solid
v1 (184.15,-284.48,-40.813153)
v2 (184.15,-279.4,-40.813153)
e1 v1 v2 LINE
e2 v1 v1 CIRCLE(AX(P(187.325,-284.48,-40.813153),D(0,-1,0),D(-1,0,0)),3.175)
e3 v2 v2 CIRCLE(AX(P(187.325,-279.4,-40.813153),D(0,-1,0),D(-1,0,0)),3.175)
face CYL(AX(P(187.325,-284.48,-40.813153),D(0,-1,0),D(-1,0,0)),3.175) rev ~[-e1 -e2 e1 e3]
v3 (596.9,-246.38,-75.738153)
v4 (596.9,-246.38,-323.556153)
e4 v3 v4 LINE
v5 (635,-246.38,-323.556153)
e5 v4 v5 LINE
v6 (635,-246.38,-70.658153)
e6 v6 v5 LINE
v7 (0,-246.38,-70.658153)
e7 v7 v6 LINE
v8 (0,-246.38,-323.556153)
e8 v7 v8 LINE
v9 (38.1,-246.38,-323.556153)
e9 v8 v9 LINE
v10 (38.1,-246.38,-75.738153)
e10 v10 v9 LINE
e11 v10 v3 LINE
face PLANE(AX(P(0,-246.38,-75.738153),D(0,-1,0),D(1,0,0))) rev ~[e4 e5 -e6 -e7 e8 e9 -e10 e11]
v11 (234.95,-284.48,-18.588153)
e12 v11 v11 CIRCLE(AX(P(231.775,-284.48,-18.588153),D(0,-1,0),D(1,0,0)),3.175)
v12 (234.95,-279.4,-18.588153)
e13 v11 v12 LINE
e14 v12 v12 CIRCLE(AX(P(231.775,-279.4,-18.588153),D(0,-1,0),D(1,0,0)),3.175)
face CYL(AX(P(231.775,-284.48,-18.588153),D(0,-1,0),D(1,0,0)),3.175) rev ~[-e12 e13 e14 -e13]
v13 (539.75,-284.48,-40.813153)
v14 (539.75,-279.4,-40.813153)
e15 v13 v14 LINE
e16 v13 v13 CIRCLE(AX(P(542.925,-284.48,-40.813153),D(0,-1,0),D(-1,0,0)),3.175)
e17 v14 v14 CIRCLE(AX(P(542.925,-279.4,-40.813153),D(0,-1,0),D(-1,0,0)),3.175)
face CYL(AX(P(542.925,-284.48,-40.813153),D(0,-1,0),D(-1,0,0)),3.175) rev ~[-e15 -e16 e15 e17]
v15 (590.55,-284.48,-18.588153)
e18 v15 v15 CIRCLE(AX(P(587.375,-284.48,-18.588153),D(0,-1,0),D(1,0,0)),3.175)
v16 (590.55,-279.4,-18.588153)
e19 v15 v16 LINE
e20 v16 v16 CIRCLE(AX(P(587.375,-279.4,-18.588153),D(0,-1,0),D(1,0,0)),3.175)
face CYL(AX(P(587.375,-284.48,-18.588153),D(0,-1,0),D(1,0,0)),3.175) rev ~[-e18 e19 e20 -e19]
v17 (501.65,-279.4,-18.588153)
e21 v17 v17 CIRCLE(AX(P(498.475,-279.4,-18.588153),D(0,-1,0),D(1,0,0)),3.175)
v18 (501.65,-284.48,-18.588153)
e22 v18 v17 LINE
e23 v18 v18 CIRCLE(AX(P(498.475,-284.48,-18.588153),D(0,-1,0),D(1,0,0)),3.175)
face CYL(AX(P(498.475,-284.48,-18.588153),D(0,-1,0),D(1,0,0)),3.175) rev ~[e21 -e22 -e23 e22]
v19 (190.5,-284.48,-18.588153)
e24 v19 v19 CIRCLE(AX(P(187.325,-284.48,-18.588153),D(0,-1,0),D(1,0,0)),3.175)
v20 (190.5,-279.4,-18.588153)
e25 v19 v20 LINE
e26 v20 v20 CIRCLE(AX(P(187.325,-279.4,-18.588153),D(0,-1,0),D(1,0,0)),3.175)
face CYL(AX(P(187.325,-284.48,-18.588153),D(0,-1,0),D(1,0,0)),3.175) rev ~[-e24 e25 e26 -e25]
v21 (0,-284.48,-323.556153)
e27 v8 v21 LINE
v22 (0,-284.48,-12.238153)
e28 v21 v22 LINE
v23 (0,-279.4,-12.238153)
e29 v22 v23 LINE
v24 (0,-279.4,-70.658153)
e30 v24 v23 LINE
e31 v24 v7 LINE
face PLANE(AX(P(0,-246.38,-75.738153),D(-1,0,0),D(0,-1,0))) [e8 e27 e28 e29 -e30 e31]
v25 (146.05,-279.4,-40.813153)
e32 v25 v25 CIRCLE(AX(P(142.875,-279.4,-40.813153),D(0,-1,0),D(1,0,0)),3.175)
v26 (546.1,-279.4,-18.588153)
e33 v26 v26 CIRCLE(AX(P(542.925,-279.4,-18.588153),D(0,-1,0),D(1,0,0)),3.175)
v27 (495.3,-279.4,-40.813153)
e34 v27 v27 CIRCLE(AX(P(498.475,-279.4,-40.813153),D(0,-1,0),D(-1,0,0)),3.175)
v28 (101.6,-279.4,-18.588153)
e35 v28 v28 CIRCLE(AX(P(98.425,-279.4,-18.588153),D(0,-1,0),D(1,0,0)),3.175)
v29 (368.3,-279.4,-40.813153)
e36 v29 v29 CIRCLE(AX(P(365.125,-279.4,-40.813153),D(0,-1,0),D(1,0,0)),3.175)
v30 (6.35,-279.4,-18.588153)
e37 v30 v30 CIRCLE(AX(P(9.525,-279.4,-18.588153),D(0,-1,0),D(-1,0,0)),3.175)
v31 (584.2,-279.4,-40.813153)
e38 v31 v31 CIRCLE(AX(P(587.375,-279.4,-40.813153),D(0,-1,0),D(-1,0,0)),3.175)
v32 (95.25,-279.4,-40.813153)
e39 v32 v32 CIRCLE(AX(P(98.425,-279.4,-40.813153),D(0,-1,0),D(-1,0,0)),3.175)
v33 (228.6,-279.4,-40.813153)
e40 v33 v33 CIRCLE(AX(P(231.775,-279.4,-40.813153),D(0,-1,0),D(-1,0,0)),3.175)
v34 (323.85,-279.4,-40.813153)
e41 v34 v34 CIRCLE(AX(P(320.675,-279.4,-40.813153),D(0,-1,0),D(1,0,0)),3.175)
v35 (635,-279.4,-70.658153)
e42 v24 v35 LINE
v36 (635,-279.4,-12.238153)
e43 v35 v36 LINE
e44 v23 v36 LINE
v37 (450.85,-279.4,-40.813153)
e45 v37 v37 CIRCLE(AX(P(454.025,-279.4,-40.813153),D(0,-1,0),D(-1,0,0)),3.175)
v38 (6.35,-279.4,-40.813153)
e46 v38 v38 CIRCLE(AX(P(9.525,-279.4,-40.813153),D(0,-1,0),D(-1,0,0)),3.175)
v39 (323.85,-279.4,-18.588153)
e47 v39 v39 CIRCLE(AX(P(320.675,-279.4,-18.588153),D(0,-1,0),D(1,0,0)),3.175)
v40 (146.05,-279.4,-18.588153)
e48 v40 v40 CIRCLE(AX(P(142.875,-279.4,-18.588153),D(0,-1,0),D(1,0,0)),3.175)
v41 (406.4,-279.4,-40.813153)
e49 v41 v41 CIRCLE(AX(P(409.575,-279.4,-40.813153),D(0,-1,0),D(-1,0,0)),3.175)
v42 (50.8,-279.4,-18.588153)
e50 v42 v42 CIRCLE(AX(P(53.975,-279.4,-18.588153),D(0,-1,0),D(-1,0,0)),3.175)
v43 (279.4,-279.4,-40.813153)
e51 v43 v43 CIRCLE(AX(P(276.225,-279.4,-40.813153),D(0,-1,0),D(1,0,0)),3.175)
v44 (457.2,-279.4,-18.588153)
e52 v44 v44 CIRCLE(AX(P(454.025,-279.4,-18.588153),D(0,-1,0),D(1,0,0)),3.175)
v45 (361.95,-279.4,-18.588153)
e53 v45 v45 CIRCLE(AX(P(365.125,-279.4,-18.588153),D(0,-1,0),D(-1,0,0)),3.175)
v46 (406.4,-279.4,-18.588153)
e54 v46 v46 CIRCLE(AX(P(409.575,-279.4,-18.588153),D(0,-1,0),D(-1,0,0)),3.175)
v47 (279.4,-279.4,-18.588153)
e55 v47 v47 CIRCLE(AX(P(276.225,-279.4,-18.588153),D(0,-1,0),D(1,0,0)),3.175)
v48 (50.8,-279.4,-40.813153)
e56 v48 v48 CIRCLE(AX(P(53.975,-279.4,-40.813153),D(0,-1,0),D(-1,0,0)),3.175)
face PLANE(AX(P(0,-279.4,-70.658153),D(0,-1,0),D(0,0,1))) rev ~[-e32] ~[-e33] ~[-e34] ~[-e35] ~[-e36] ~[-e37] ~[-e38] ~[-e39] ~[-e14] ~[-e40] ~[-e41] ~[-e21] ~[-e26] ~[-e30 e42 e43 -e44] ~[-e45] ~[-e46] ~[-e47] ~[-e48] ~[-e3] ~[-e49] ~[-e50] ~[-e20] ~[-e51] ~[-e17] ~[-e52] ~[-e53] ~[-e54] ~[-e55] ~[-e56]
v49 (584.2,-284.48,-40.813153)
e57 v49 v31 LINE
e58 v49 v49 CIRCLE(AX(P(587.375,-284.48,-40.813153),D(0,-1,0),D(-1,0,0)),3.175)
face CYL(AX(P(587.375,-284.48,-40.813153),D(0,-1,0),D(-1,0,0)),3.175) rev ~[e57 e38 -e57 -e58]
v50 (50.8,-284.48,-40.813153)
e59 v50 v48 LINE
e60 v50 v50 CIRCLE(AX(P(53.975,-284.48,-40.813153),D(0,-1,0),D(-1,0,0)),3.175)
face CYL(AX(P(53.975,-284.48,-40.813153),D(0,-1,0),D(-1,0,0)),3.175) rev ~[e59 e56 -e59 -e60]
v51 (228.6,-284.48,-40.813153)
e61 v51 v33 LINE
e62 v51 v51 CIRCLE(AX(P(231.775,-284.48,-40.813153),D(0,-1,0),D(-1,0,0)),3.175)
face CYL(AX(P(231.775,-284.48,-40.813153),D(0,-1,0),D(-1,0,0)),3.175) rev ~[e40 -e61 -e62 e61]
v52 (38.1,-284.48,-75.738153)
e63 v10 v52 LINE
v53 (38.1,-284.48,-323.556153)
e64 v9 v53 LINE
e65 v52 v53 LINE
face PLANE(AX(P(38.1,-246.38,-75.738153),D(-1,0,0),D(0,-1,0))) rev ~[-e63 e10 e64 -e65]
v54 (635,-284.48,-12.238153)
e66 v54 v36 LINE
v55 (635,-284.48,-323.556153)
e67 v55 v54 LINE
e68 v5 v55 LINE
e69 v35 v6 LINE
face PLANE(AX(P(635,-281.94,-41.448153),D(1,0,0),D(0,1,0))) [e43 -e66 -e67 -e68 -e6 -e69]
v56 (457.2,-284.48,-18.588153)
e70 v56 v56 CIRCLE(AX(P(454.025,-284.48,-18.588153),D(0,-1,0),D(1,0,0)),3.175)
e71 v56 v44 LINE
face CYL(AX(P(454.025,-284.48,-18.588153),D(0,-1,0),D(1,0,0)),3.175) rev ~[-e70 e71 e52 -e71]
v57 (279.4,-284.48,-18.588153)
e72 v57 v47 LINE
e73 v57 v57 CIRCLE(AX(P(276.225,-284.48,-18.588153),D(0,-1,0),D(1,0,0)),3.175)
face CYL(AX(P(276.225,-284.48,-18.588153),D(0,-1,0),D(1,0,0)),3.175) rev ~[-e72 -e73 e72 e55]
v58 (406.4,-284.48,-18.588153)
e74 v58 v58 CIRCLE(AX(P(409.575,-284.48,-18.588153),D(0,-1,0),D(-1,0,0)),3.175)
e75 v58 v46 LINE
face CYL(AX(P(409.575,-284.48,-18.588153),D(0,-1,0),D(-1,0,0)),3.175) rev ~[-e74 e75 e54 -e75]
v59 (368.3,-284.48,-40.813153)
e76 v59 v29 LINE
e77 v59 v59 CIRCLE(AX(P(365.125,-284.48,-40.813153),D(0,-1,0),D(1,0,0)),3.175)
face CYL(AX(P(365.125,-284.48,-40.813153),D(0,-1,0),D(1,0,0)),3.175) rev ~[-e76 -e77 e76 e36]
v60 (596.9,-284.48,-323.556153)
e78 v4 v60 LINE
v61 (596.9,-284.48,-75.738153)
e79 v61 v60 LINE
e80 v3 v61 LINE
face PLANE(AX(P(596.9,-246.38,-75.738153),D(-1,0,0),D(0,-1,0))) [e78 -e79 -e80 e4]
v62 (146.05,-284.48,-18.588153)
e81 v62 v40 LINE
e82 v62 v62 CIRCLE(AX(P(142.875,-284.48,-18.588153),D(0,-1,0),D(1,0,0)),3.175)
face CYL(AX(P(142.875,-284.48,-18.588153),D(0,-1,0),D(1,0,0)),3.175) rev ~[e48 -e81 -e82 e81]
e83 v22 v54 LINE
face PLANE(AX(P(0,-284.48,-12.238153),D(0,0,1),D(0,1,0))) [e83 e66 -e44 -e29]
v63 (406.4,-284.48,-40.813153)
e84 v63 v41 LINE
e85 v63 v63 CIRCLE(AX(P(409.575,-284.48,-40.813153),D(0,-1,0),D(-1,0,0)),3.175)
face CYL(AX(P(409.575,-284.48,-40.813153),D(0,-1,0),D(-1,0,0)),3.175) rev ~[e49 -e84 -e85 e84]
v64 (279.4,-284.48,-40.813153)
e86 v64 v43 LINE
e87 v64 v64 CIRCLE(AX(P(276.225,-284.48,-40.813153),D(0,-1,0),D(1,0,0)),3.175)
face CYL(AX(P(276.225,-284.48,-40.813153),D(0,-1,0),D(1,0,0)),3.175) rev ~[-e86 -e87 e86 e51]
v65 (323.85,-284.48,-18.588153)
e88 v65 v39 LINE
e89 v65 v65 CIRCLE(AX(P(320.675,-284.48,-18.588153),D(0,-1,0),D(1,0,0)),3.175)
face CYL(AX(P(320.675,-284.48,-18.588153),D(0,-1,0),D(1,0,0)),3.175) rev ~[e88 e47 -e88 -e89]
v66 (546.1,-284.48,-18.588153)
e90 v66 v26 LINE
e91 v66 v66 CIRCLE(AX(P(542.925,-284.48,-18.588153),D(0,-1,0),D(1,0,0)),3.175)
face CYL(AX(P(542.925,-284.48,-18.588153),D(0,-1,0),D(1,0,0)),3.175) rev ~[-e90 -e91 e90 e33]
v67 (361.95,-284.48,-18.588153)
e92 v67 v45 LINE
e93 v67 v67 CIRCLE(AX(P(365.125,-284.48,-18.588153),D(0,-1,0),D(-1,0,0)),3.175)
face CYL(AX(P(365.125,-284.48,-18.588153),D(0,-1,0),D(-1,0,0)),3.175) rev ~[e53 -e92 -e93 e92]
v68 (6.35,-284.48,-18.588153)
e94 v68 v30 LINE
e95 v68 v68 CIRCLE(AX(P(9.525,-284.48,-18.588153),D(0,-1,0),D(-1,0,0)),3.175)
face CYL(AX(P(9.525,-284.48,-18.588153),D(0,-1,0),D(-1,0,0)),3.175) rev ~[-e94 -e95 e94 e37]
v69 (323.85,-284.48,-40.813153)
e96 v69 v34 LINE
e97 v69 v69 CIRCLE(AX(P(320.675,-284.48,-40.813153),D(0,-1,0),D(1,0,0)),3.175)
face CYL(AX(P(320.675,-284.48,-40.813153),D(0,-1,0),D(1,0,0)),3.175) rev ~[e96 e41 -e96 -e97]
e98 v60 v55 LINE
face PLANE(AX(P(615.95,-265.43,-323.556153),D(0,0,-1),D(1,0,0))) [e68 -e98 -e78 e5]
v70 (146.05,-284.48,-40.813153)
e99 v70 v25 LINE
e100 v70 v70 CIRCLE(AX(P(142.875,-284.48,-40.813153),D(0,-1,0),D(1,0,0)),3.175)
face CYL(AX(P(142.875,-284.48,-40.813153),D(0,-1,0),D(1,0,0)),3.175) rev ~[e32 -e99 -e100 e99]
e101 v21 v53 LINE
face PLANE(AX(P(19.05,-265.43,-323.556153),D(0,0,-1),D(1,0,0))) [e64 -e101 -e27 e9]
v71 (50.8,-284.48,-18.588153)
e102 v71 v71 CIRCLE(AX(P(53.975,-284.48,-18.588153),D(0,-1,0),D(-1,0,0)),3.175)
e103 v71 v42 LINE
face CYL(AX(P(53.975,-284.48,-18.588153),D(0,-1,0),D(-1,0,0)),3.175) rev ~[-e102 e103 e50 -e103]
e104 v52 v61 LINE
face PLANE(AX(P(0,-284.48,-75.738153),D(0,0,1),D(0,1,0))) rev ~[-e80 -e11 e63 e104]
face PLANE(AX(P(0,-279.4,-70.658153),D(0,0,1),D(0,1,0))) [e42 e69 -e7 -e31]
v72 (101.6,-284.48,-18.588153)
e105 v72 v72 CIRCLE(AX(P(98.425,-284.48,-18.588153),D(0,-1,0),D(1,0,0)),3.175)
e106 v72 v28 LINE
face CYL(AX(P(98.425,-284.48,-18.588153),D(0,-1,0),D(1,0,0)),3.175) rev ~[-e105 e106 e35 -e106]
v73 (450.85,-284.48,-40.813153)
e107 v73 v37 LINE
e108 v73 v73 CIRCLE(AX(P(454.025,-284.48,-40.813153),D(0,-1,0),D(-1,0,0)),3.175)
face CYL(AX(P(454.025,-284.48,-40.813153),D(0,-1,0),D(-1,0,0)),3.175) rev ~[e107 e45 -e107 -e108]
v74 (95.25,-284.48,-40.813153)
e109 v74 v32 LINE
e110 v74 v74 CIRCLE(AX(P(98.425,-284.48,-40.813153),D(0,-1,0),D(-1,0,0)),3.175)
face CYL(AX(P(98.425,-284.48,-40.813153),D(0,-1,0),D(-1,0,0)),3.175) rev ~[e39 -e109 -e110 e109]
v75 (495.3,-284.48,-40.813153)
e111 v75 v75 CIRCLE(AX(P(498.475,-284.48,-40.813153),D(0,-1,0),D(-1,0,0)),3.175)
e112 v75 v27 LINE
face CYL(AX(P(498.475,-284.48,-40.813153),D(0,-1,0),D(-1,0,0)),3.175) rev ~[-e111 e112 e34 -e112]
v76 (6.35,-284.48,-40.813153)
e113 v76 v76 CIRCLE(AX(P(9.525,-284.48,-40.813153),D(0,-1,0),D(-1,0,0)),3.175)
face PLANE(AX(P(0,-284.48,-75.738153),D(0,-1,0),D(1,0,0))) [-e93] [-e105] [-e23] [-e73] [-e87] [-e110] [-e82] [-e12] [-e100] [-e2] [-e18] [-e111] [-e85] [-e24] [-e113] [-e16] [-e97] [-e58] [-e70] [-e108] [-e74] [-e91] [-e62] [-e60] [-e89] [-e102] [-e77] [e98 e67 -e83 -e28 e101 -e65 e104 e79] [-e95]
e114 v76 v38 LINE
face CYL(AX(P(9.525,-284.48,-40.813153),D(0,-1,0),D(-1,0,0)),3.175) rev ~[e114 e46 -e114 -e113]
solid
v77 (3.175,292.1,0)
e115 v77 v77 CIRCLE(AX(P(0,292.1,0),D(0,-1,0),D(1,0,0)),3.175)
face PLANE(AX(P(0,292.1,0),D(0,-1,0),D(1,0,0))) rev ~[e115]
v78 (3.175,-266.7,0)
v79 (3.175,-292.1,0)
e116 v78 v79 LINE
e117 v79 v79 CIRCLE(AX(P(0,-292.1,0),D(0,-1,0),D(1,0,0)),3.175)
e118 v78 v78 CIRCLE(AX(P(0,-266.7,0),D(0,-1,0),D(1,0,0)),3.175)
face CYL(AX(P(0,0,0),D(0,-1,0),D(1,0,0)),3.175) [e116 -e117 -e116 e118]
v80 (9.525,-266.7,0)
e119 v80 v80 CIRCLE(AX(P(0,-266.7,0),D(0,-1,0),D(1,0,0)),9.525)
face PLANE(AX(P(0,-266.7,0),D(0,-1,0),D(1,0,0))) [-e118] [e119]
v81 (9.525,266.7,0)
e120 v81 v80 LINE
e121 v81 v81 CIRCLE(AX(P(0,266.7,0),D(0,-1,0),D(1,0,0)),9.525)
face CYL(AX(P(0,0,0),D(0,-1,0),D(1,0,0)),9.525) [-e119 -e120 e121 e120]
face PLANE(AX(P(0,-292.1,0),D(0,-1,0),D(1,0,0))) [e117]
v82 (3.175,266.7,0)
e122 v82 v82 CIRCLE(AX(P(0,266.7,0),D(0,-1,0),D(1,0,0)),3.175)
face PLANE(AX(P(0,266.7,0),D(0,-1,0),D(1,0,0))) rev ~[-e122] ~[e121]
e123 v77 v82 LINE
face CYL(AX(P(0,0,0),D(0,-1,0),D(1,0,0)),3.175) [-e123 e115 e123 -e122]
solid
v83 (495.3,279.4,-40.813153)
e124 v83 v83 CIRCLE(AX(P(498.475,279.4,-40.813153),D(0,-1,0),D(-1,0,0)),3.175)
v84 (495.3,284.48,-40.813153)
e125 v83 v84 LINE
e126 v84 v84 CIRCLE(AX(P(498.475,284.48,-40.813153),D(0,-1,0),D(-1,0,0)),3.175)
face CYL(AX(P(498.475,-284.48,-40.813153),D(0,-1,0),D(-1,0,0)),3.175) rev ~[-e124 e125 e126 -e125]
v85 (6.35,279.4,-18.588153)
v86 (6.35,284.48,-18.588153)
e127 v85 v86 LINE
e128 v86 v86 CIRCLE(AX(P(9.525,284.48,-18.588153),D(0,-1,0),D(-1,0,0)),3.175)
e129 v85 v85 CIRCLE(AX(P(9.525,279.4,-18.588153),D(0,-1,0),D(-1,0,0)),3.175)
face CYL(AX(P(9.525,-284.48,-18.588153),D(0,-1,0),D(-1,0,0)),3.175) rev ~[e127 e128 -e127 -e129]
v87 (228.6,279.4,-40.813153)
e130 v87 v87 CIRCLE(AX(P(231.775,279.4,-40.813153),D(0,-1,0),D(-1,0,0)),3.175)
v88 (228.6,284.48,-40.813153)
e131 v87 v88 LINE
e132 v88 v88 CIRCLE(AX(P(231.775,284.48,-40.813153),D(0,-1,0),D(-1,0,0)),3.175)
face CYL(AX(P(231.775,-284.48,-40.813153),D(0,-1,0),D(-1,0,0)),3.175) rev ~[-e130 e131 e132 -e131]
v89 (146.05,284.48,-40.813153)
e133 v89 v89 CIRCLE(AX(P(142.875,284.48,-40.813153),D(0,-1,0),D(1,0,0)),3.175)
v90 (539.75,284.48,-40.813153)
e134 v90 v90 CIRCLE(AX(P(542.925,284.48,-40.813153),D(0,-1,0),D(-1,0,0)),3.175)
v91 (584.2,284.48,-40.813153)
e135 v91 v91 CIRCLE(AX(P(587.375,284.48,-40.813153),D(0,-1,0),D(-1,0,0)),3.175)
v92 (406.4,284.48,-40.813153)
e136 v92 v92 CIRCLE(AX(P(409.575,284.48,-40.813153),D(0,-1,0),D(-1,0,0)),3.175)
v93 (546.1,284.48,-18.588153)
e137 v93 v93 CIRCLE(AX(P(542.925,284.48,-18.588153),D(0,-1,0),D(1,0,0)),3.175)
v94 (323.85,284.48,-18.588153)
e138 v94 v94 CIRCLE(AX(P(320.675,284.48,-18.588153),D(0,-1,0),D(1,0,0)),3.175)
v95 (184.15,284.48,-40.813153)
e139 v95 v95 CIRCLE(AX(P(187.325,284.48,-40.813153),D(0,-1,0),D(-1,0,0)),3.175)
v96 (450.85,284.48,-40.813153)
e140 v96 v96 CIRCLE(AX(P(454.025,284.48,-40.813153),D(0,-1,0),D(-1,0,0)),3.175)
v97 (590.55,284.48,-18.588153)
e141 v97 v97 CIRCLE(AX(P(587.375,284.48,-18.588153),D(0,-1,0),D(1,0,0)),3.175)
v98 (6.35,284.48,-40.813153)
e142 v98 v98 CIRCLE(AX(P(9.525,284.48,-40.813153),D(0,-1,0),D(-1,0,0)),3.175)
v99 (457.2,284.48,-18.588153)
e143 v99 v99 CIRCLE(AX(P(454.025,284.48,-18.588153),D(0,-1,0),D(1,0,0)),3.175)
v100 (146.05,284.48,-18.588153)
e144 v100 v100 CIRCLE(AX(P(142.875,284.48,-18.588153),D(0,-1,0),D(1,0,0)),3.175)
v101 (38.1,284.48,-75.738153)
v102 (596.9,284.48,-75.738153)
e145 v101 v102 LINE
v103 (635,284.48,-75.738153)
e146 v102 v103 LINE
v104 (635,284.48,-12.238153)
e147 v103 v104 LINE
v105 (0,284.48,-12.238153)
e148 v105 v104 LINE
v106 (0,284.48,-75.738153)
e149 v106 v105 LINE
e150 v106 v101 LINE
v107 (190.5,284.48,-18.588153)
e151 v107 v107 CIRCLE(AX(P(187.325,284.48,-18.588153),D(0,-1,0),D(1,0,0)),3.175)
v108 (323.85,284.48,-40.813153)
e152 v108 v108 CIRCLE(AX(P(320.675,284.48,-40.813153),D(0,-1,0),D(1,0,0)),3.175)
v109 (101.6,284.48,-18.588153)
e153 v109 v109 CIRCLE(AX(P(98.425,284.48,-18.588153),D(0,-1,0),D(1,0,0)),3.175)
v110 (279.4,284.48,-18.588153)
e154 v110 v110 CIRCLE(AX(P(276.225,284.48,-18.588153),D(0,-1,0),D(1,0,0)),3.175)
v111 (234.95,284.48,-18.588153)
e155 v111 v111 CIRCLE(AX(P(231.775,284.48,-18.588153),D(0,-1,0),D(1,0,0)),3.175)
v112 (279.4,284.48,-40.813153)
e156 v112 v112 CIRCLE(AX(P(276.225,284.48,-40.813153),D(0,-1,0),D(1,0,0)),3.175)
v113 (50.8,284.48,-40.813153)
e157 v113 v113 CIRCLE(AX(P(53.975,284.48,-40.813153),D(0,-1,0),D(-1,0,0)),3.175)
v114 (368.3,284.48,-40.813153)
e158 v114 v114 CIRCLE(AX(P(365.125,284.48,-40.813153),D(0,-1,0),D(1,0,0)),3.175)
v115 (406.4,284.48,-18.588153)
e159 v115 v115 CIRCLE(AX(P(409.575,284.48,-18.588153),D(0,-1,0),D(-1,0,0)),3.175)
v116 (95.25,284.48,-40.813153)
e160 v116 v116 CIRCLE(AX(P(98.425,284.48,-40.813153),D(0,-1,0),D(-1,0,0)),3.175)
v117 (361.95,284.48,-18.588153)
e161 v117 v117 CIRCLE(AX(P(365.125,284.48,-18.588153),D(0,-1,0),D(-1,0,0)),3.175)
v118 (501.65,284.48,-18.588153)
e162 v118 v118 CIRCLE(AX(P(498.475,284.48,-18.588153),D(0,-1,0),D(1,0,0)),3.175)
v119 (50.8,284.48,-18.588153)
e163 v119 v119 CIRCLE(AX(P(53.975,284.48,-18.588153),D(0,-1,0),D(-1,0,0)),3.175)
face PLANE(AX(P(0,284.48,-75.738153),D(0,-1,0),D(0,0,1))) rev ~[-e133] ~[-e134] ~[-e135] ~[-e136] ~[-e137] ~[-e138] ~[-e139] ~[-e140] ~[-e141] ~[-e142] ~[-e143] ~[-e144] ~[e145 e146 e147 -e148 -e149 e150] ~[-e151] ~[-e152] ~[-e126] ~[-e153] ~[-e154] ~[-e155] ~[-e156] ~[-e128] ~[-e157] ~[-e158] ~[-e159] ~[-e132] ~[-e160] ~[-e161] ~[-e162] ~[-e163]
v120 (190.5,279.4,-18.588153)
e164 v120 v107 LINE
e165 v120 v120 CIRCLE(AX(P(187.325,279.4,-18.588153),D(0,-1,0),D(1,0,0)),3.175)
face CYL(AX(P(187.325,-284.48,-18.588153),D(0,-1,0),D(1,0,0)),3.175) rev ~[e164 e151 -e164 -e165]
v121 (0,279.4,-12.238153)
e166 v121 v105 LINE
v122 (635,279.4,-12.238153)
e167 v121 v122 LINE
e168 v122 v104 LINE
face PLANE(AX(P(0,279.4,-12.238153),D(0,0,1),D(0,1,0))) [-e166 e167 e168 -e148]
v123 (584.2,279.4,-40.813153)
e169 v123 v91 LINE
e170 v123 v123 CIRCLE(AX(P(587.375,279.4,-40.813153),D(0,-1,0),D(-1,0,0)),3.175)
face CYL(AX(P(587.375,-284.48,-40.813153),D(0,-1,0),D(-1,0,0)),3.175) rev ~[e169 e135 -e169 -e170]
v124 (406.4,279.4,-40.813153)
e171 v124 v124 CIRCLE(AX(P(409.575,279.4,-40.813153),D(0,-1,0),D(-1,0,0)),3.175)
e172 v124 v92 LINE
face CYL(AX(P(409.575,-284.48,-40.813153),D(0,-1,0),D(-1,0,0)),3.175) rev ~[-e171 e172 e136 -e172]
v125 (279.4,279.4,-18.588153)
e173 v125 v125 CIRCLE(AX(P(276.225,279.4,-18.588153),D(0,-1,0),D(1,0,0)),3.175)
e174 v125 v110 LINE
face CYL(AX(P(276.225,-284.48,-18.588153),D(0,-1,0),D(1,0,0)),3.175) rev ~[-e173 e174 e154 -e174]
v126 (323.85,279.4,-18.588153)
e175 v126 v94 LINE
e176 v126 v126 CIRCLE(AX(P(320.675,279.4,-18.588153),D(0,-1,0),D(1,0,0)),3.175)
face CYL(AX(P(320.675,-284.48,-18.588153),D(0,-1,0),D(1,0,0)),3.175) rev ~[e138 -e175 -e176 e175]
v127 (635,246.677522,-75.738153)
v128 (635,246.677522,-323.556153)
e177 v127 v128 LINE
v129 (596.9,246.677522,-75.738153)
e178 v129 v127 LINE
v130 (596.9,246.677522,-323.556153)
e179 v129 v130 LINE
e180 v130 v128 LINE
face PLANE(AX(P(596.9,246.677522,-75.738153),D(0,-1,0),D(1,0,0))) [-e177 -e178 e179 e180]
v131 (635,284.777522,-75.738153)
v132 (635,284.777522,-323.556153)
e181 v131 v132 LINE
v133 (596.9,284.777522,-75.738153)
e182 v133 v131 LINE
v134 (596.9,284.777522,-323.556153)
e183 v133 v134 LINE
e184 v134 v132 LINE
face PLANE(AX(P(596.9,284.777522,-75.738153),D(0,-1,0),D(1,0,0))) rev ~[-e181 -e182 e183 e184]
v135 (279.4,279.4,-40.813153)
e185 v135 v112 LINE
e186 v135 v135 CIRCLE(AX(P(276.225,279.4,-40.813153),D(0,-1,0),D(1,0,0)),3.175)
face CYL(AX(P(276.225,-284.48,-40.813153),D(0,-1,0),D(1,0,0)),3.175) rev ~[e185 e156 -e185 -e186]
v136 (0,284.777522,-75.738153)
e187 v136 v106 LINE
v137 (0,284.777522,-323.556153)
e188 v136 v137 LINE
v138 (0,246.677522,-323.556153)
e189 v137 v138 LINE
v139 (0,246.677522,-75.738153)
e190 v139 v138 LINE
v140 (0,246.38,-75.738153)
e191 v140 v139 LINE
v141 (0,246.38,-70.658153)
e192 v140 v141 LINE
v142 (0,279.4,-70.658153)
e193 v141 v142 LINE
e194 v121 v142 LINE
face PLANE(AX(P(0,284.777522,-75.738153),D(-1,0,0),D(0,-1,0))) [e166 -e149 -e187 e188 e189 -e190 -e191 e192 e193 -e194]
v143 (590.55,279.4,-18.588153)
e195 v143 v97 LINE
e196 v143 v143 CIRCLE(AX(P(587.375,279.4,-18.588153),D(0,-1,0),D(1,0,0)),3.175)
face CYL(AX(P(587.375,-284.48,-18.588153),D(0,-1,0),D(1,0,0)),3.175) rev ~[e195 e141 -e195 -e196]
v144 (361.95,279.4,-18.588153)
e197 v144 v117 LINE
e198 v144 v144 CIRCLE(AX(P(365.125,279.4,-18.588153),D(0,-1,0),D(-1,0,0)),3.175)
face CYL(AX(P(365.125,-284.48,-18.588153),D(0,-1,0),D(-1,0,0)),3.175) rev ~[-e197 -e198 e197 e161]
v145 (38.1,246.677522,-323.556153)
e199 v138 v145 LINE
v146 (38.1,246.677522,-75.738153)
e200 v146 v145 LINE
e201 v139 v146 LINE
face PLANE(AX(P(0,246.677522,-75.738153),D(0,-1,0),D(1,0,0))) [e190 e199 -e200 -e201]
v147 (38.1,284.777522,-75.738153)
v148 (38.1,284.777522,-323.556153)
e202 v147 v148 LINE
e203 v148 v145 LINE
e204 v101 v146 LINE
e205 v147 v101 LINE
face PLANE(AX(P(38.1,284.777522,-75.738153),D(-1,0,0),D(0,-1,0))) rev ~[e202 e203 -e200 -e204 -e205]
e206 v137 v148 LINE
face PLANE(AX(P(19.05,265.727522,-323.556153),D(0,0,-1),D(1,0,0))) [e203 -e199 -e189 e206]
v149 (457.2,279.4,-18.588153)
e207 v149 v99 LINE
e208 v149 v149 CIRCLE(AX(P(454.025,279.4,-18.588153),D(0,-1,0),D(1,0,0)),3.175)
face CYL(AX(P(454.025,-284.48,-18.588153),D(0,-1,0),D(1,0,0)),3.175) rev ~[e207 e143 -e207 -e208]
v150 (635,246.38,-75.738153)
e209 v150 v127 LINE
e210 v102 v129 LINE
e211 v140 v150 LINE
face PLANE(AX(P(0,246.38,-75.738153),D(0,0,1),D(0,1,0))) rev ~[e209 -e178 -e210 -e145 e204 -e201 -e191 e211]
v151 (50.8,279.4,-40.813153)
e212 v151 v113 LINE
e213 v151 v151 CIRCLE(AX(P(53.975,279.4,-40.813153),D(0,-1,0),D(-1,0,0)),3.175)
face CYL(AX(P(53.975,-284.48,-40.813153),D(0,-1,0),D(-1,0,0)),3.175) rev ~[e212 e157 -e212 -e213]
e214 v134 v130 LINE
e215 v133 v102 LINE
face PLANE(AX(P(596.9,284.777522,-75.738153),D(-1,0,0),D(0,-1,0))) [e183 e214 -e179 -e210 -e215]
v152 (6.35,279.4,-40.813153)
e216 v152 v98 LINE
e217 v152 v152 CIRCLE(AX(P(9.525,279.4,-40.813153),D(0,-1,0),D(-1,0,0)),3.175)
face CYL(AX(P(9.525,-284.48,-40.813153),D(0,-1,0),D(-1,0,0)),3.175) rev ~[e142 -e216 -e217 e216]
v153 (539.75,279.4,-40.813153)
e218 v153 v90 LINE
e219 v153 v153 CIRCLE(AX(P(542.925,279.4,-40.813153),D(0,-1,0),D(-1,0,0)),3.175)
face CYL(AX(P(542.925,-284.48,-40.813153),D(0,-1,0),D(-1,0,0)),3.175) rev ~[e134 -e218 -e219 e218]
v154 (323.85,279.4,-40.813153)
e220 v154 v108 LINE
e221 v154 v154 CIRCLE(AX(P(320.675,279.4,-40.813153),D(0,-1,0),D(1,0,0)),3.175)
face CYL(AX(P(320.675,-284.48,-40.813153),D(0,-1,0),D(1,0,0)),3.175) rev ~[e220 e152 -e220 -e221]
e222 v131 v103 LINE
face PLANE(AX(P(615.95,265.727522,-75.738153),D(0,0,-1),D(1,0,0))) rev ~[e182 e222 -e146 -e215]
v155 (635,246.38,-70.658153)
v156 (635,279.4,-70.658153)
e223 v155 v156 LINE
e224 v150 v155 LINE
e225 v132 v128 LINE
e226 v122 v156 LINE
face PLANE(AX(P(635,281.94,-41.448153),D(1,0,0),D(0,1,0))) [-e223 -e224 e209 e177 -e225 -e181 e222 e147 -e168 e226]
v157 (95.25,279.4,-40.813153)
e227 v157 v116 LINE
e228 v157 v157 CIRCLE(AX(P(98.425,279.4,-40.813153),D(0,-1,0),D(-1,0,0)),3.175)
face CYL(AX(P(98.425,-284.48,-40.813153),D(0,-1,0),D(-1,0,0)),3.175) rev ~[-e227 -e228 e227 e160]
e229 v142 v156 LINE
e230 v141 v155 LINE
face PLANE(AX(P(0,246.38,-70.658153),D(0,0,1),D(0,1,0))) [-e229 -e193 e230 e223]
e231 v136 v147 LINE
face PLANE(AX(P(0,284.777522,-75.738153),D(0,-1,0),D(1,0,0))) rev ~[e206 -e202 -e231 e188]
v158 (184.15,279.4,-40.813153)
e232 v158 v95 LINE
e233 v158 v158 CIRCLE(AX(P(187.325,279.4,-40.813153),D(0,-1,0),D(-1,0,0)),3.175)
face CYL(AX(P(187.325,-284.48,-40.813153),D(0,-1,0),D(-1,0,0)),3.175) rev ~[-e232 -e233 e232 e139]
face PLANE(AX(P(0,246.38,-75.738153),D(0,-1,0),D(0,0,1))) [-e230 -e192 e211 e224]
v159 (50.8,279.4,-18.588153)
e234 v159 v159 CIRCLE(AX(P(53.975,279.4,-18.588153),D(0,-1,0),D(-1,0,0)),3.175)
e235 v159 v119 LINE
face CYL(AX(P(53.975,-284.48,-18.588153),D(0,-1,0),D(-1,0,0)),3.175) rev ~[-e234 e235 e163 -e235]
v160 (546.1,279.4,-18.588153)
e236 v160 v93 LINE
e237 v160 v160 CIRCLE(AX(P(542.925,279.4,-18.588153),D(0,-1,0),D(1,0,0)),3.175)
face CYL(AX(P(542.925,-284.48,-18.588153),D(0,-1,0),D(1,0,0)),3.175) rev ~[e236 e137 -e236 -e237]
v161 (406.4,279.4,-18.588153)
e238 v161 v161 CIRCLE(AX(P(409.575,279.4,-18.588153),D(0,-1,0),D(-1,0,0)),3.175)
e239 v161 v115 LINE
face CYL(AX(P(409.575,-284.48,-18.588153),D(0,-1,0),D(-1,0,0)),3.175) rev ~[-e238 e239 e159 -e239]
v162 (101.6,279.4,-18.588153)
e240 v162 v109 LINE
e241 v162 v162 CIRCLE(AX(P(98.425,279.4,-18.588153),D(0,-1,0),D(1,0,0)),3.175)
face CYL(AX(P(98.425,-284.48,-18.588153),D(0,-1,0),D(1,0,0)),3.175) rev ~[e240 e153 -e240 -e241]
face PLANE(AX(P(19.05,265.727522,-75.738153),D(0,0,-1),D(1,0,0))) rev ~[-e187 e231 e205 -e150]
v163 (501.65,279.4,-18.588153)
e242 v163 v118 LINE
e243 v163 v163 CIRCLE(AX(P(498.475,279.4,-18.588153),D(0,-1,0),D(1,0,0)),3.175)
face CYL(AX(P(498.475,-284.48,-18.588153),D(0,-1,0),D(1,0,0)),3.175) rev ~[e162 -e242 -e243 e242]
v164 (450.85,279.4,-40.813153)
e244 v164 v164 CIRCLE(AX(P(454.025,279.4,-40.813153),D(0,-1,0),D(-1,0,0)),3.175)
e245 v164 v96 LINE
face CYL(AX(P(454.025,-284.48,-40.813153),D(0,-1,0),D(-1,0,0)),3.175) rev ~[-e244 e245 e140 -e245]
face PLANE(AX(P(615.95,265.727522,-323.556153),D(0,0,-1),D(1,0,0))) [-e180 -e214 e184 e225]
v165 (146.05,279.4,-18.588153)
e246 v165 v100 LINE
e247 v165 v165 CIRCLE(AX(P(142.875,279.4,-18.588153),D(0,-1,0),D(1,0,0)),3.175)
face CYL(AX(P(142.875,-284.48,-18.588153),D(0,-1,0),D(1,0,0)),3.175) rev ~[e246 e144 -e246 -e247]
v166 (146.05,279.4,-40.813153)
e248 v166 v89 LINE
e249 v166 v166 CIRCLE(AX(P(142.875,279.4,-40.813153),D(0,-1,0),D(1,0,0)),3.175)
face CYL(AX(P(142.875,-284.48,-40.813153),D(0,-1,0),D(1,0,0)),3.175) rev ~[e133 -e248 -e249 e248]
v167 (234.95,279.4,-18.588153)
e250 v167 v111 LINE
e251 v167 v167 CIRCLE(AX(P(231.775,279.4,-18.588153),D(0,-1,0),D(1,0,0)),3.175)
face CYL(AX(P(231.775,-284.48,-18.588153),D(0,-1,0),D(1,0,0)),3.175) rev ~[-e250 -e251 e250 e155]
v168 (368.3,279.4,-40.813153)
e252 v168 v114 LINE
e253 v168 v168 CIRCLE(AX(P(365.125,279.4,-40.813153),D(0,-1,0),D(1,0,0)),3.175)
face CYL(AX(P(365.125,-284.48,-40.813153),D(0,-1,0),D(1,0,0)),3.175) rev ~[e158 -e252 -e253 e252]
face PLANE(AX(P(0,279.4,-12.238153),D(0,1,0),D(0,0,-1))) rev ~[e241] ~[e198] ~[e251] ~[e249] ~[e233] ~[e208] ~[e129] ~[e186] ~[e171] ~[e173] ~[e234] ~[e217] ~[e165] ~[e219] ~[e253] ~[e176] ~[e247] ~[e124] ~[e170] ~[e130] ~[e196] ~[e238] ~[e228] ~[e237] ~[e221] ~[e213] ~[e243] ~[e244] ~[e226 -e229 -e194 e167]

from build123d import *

# Parameters (mm, degrees)
F0_R      = 3.175
F1_DEPTH  = 292.1
F2_R      = 9.525
F3_DEPTH  = 266.7
F4_W      = 5.08
F4_H      = 58.42
F4_H_2    = 5.08
F4_W_2    = 33.02
F5_DEPTH  = 635
F7_DEPTH  = 576.581
F9_DEPTH  = 576.581
F10_W     = 38.1
F10_H     = 38.1
F11_DEPTH = 247.818


with BuildPart() as f1:
    # F0 (on Front) → F1 (new body, symmetric)
    with BuildSketch(Plane.XZ):
        Circle(F0_R)
    extrude(amount=F1_DEPTH, both=True)

    # F2 (on Front) → F3 (join, symmetric)
    with BuildSketch(Plane.XZ):
        Circle(F2_R)
    extrude(amount=F3_DEPTH, both=True)

    # F8 (on face) → F9 (cut, through all)
    with BuildSketch(Plane(origin=(0, 284.48, 0), x_dir=(-1, 0, 0), z_dir=(0, 1, 0))):
        with BuildLine():
            ThreePointArc((-584.2, -40.8131531549), (-587.375, -37.6381531549), (-590.55, -40.8131531549))
            Line((-590.55, -40.8131531549), (-584.2, -40.8131531549))
        make_face()
        with BuildLine():
            ThreePointArc((-6.35, -40.8131531549), (-9.525, -37.6381531549), (-12.7, -40.8131531549))
            Line((-12.7, -40.8131531549), (-6.35, -40.8131531549))
        make_face()
        with BuildLine():
            Line((-6.35, -40.8131531549), (-12.7, -40.8131531549))
            ThreePointArc((-12.7, -40.8131531549), (-9.525, -43.9881531549), (-6.35, -40.8131531549))
        make_face()
        with BuildLine():
            ThreePointArc((-50.8, -40.8131531549), (-53.975, -37.6381531549), (-57.15, -40.8131531549))
            Line((-57.15, -40.8131531549), (-50.8, -40.8131531549))
        make_face()
        with BuildLine():
            Line((-50.8, -40.8131531549), (-57.15, -40.8131531549))
            ThreePointArc((-57.15, -40.8131531549), (-53.975, -43.9881531549), (-50.8, -40.8131531549))
        make_face()
        with BuildLine():
            ThreePointArc((-95.25, -40.8131531549), (-98.425, -37.6381531549), (-101.6, -40.8131531549))
            Line((-101.6, -40.8131531549), (-95.25, -40.8131531549))
        make_face()
        with BuildLine():
            Line((-95.25, -40.8131531549), (-101.6, -40.8131531549))
            ThreePointArc((-101.6, -40.8131531549), (-98.425, -43.9881531549), (-95.25, -40.8131531549))
        make_face()
        with BuildLine():
            ThreePointArc((-139.7, -40.8131531549), (-142.875, -37.6381531549), (-146.05, -40.8131531549))
            Line((-146.05, -40.8131531549), (-139.7, -40.8131531549))
        make_face()
        with BuildLine():
            Line((-139.7, -40.8131531549), (-146.05, -40.8131531549))
            ThreePointArc((-146.05, -40.8131531549), (-142.875, -43.9881531549), (-139.7, -40.8131531549))
        make_face()
        with BuildLine():
            ThreePointArc((-184.15, -40.8131531549), (-187.325, -37.6381531549), (-190.5, -40.8131531549))
            Line((-190.5, -40.8131531549), (-184.15, -40.8131531549))
        make_face()
        with BuildLine():
            Line((-184.15, -40.8131531549), (-190.5, -40.8131531549))
            ThreePointArc((-190.5, -40.8131531549), (-187.325, -43.9881531549), (-184.15, -40.8131531549))
        make_face()
        with BuildLine():
            ThreePointArc((-228.6, -40.8131531549), (-231.775, -37.6381531549), (-234.95, -40.8131531549))
            Line((-234.95, -40.8131531549), (-228.6, -40.8131531549))
        make_face()
        with BuildLine():
            Line((-228.6, -40.8131531549), (-234.95, -40.8131531549))
            ThreePointArc((-234.95, -40.8131531549), (-231.775, -43.9881531549), (-228.6, -40.8131531549))
        make_face()
        with BuildLine():
            ThreePointArc((-273.05, -40.8131531549), (-276.225, -37.6381531549), (-279.4, -40.8131531549))
            Line((-279.4, -40.8131531549), (-273.05, -40.8131531549))
        make_face()
        with BuildLine():
            Line((-273.05, -40.8131531549), (-279.4, -40.8131531549))
            ThreePointArc((-279.4, -40.8131531549), (-276.225, -43.9881531549), (-273.05, -40.8131531549))
        make_face()
        with BuildLine():
            ThreePointArc((-317.5, -40.8131531549), (-320.675, -37.6381531549), (-323.85, -40.8131531549))
            Line((-323.85, -40.8131531549), (-317.5, -40.8131531549))
        make_face()
        with BuildLine():
            Line((-317.5, -40.8131531549), (-323.85, -40.8131531549))
            ThreePointArc((-323.85, -40.8131531549), (-320.675, -43.9881531549), (-317.5, -40.8131531549))
        make_face()
        with BuildLine():
            ThreePointArc((-361.95, -40.8131531549), (-365.125, -37.6381531549), (-368.3, -40.8131531549))
            Line((-368.3, -40.8131531549), (-361.95, -40.8131531549))
        make_face()
        with BuildLine():
            Line((-361.95, -40.8131531549), (-368.3, -40.8131531549))
            ThreePointArc((-368.3, -40.8131531549), (-365.125, -43.9881531549), (-361.95, -40.8131531549))
        make_face()
        with BuildLine():
            ThreePointArc((-406.4, -40.8131531549), (-409.575, -37.6381531549), (-412.75, -40.8131531549))
            Line((-412.75, -40.8131531549), (-406.4, -40.8131531549))
        make_face()
        with BuildLine():
            Line((-406.4, -40.8131531549), (-412.75, -40.8131531549))
            ThreePointArc((-412.75, -40.8131531549), (-409.575, -43.9881531549), (-406.4, -40.8131531549))
        make_face()
        with BuildLine():
            ThreePointArc((-450.85, -40.8131531549), (-454.025, -37.6381531549), (-457.2, -40.8131531549))
            Line((-457.2, -40.8131531549), (-450.85, -40.8131531549))
        make_face()
        with BuildLine():
            Line((-450.85, -40.8131531549), (-457.2, -40.8131531549))
            ThreePointArc((-457.2, -40.8131531549), (-454.025, -43.9881531549), (-450.85, -40.8131531549))
        make_face()
        with BuildLine():
            ThreePointArc((-495.3, -40.8131531549), (-498.475, -37.6381531549), (-501.65, -40.8131531549))
            Line((-501.65, -40.8131531549), (-495.3, -40.8131531549))
        make_face()
        with BuildLine():
            Line((-495.3, -40.8131531549), (-501.65, -40.8131531549))
            ThreePointArc((-501.65, -40.8131531549), (-498.475, -43.9881531549), (-495.3, -40.8131531549))
        make_face()
        with BuildLine():
            ThreePointArc((-539.75, -40.8131531549), (-542.925, -37.6381531549), (-546.1, -40.8131531549))
            Line((-546.1, -40.8131531549), (-539.75, -40.8131531549))
        make_face()
        with BuildLine():
            Line((-539.75, -40.8131531549), (-546.1, -40.8131531549))
            ThreePointArc((-546.1, -40.8131531549), (-542.925, -43.9881531549), (-539.75, -40.8131531549))
        make_face()
        with BuildLine():
            Line((-584.2, -40.8131531549), (-590.55, -40.8131531549))
            ThreePointArc((-590.55, -40.8131531549), (-587.375, -43.9881531549), (-584.2, -40.8131531549))
        make_face()
        with BuildLine():
            ThreePointArc((-584.2, -18.5881531549), (-587.375, -15.4131531549), (-590.55, -18.5881531549))
            Line((-590.55, -18.5881531549), (-584.2, -18.5881531549))
        make_face()
        with BuildLine():
            ThreePointArc((-6.35, -18.5881531549), (-9.525, -15.4131531549), (-12.7, -18.5881531549))
            Line((-12.7, -18.5881531549), (-6.35, -18.5881531549))
        make_face()
        with BuildLine():
            Line((-6.35, -18.5881531549), (-12.7, -18.5881531549))
            ThreePointArc((-12.7, -18.5881531549), (-9.525, -21.7631531549), (-6.35, -18.5881531549))
        make_face()
        with BuildLine():
            ThreePointArc((-50.8, -18.5881531549), (-53.975, -15.4131531549), (-57.15, -18.5881531549))
            Line((-57.15, -18.5881531549), (-50.8, -18.5881531549))
        make_face()
        with BuildLine():
            Line((-50.8, -18.5881531549), (-57.15, -18.5881531549))
            ThreePointArc((-57.15, -18.5881531549), (-53.975, -21.7631531549), (-50.8, -18.5881531549))
        make_face()
        with BuildLine():
            ThreePointArc((-95.25, -18.5881531549), (-98.425, -15.4131531549), (-101.6, -18.5881531549))
            Line((-101.6, -18.5881531549), (-95.25, -18.5881531549))
        make_face()
        with BuildLine():
            Line((-95.25, -18.5881531549), (-101.6, -18.5881531549))
            ThreePointArc((-101.6, -18.5881531549), (-98.425, -21.7631531549), (-95.25, -18.5881531549))
        make_face()
        with BuildLine():
            ThreePointArc((-139.7, -18.5881531549), (-142.875, -15.4131531549), (-146.05, -18.5881531549))
            Line((-146.05, -18.5881531549), (-139.7, -18.5881531549))
        make_face()
        with BuildLine():
            Line((-139.7, -18.5881531549), (-146.05, -18.5881531549))
            ThreePointArc((-146.05, -18.5881531549), (-142.875, -21.7631531549), (-139.7, -18.5881531549))
        make_face()
        with BuildLine():
            ThreePointArc((-184.15, -18.5881531549), (-187.325, -15.4131531549), (-190.5, -18.5881531549))
            Line((-190.5, -18.5881531549), (-184.15, -18.5881531549))
        make_face()
        with BuildLine():
            Line((-184.15, -18.5881531549), (-190.5, -18.5881531549))
            ThreePointArc((-190.5, -18.5881531549), (-187.325, -21.7631531549), (-184.15, -18.5881531549))
        make_face()
        with BuildLine():
            ThreePointArc((-228.6, -18.5881531549), (-231.775, -15.4131531549), (-234.95, -18.5881531549))
            Line((-234.95, -18.5881531549), (-228.6, -18.5881531549))
        make_face()
        with BuildLine():
            Line((-228.6, -18.5881531549), (-234.95, -18.5881531549))
            ThreePointArc((-234.95, -18.5881531549), (-231.775, -21.7631531549), (-228.6, -18.5881531549))
        make_face()
        with BuildLine():
            ThreePointArc((-273.05, -18.5881531549), (-276.225, -15.4131531549), (-279.4, -18.5881531549))
            Line((-279.4, -18.5881531549), (-273.05, -18.5881531549))
        make_face()
        with BuildLine():
            Line((-273.05, -18.5881531549), (-279.4, -18.5881531549))
            ThreePointArc((-279.4, -18.5881531549), (-276.225, -21.7631531549), (-273.05, -18.5881531549))
        make_face()
        with BuildLine():
            ThreePointArc((-317.5, -18.5881531549), (-320.675, -15.4131531549), (-323.85, -18.5881531549))
            Line((-323.85, -18.5881531549), (-317.5, -18.5881531549))
        make_face()
        with BuildLine():
            Line((-317.5, -18.5881531549), (-323.85, -18.5881531549))
            ThreePointArc((-323.85, -18.5881531549), (-320.675, -21.7631531549), (-317.5, -18.5881531549))
        make_face()
        with BuildLine():
            ThreePointArc((-361.95, -18.5881531549), (-365.125, -15.4131531549), (-368.3, -18.5881531549))
            Line((-368.3, -18.5881531549), (-361.95, -18.5881531549))
        make_face()
        with BuildLine():
            Line((-361.95, -18.5881531549), (-368.3, -18.5881531549))
            ThreePointArc((-368.3, -18.5881531549), (-365.125, -21.7631531549), (-361.95, -18.5881531549))
        make_face()
        with BuildLine():
            ThreePointArc((-406.4, -18.5881531549), (-409.575, -15.4131531549), (-412.75, -18.5881531549))
            Line((-412.75, -18.5881531549), (-406.4, -18.5881531549))
        make_face()
        with BuildLine():
            Line((-406.4, -18.5881531549), (-412.75, -18.5881531549))
            ThreePointArc((-412.75, -18.5881531549), (-409.575, -21.7631531549), (-406.4, -18.5881531549))
        make_face()
        with BuildLine():
            ThreePointArc((-450.85, -18.5881531549), (-454.025, -15.4131531549), (-457.2, -18.5881531549))
            Line((-457.2, -18.5881531549), (-450.85, -18.5881531549))
        make_face()
        with BuildLine():
            Line((-450.85, -18.5881531549), (-457.2, -18.5881531549))
            ThreePointArc((-457.2, -18.5881531549), (-454.025, -21.7631531549), (-450.85, -18.5881531549))
        make_face()
        with BuildLine():
            ThreePointArc((-495.3, -18.5881531549), (-498.475, -15.4131531549), (-501.65, -18.5881531549))
            Line((-501.65, -18.5881531549), (-495.3, -18.5881531549))
        make_face()
        with BuildLine():
            Line((-495.3, -18.5881531549), (-501.65, -18.5881531549))
            ThreePointArc((-501.65, -18.5881531549), (-498.475, -21.7631531549), (-495.3, -18.5881531549))
        make_face()
        with BuildLine():
            ThreePointArc((-539.75, -18.5881531549), (-542.925, -15.4131531549), (-546.1, -18.5881531549))
            Line((-546.1, -18.5881531549), (-539.75, -18.5881531549))
        make_face()
        with BuildLine():
            Line((-539.75, -18.5881531549), (-546.1, -18.5881531549))
            ThreePointArc((-546.1, -18.5881531549), (-542.925, -21.7631531549), (-539.75, -18.5881531549))
        make_face()
        with BuildLine():
            Line((-584.2, -18.5881531549), (-590.55, -18.5881531549))
            ThreePointArc((-590.55, -18.5881531549), (-587.375, -21.7631531549), (-584.2, -18.5881531549))
        make_face()
    extrude(amount=-F9_DEPTH, mode=Mode.SUBTRACT)


with BuildPart() as f5:
    # F4 (on Right) → F5 (new body)
    with BuildSketch(Plane.YZ):
        with Locations((-281.94, -41.4481531549)):
            Rectangle(F4_W, F4_H)
        with Locations((-281.94, -73.1981531549)):
            Rectangle(F4_W, F4_H_2)
        with Locations((-262.89, -73.1981531549)):
            Rectangle(F4_W_2, F4_H_2)
    extrude(amount=F5_DEPTH)


with BuildPart() as f5b:
    # F4 (on Right) → F5, piece 2 (new body)
    with BuildSketch(Plane.YZ):
        with Locations((281.94, -41.4481531549)):
            Rectangle(F4_W, F4_H)
        with Locations((281.94, -73.1981531549)):
            Rectangle(F4_W, F4_H_2)
        with Locations((262.89, -73.1981531549)):
            Rectangle(F4_W_2, F4_H_2)
    extrude(amount=F5_DEPTH)


with BuildPart() as f7_tool:
    # F6 (on face) → F7 (new body, through all)
    with BuildSketch(Plane.XZ.offset(284.48)):
        with BuildLine():
            ThreePointArc((12.7, -40.8131531549), (9.525, -37.6381531549), (6.35, -40.8131531549))
            Line((6.35, -40.8131531549), (12.7, -40.8131531549))
        make_face()
        with BuildLine():
            Line((12.7, -40.8131531549), (6.35, -40.8131531549))
            ThreePointArc((6.35, -40.8131531549), (9.525, -43.9881531549), (12.7, -40.8131531549))
        make_face()
        with BuildLine():
            ThreePointArc((57.15, -40.8131531549), (53.975, -37.6381531549), (50.8, -40.8131531549))
            Line((50.8, -40.8131531549), (57.15, -40.8131531549))
        make_face()
        with BuildLine():
            ThreePointArc((101.6, -40.8131531549), (98.425, -37.6381531549), (95.25, -40.8131531549))
            Line((95.25, -40.8131531549), (101.6, -40.8131531549))
        make_face()
        with BuildLine():
            Line((101.6, -40.8131531549), (95.25, -40.8131531549))
            ThreePointArc((95.25, -40.8131531549), (98.425, -43.9881531549), (101.6, -40.8131531549))
        make_face()
        with BuildLine():
            Line((57.15, -40.8131531549), (50.8, -40.8131531549))
            ThreePointArc((50.8, -40.8131531549), (53.975, -43.9881531549), (57.15, -40.8131531549))
        make_face()
        with BuildLine():
            Line((146.05, -40.8131531549), (139.7, -40.8131531549))
            ThreePointArc((139.7, -40.8131531549), (142.875, -43.9881531549), (146.05, -40.8131531549))
        make_face()
        with BuildLine():
            ThreePointArc((146.05, -40.8131531549), (142.875, -37.6381531549), (139.7, -40.8131531549))
            Line((139.7, -40.8131531549), (146.05, -40.8131531549))
        make_face()
        with BuildLine():
            ThreePointArc((190.5, -40.8131531549), (187.325, -37.6381531549), (184.15, -40.8131531549))
            Line((184.15, -40.8131531549), (190.5, -40.8131531549))
        make_face()
        with BuildLine():
            Line((190.5, -40.8131531549), (184.15, -40.8131531549))
            ThreePointArc((184.15, -40.8131531549), (187.325, -43.9881531549), (190.5, -40.8131531549))
        make_face()
        with BuildLine():
            ThreePointArc((234.95, -40.8131531549), (231.775, -37.6381531549), (228.6, -40.8131531549))
            Line((228.6, -40.8131531549), (234.95, -40.8131531549))
        make_face()
        with BuildLine():
            Line((234.95, -40.8131531549), (228.6, -40.8131531549))
            ThreePointArc((228.6, -40.8131531549), (231.775, -43.9881531549), (234.95, -40.8131531549))
        make_face()
        with BuildLine():
            ThreePointArc((273.05, -40.8131531549), (276.225, -43.9881531549), (279.4, -40.8131531549))
            Line((279.4, -40.8131531549), (273.05, -40.8131531549))
        make_face()
        with BuildLine():
            Line((273.05, -40.8131531549), (279.4, -40.8131531549))
            ThreePointArc((279.4, -40.8131531549), (276.225, -37.6381531549), (273.05, -40.8131531549))
        make_face()
        with BuildLine():
            ThreePointArc((317.5, -40.8131531549), (320.675, -43.9881531549), (323.85, -40.8131531549))
            Line((323.85, -40.8131531549), (317.5, -40.8131531549))
        make_face()
        with BuildLine():
            Line((317.5, -40.8131531549), (323.85, -40.8131531549))
            ThreePointArc((323.85, -40.8131531549), (320.675, -37.6381531549), (317.5, -40.8131531549))
        make_face()
        with BuildLine():
            ThreePointArc((12.7, -18.5881531549), (9.525, -15.4131531549), (6.35, -18.5881531549))
            Line((6.35, -18.5881531549), (12.7, -18.5881531549))
        make_face()
        with BuildLine():
            Line((12.7, -18.5881531549), (6.35, -18.5881531549))
            ThreePointArc((6.35, -18.5881531549), (9.525, -21.7631531549), (12.7, -18.5881531549))
        make_face()
        with BuildLine():
            ThreePointArc((57.15, -18.5881531549), (53.975, -15.4131531549), (50.8, -18.5881531549))
            Line((50.8, -18.5881531549), (57.15, -18.5881531549))
        make_face()
        with BuildLine():
            Line((57.15, -18.5881531549), (50.8, -18.5881531549))
            ThreePointArc((50.8, -18.5881531549), (53.975, -21.7631531549), (57.15, -18.5881531549))
        make_face()
        with BuildLine():
            Line((101.6, -18.5881531549), (95.25, -18.5881531549))
            ThreePointArc((95.25, -18.5881531549), (98.425, -21.7631531549), (101.6, -18.5881531549))
        make_face()
        with BuildLine():
            ThreePointArc((101.6, -18.5881531549), (98.425, -15.4131531549), (95.25, -18.5881531549))
            Line((95.25, -18.5881531549), (101.6, -18.5881531549))
        make_face()
        with BuildLine():
            Line((146.05, -18.5881531549), (139.7, -18.5881531549))
            ThreePointArc((139.7, -18.5881531549), (142.875, -21.7631531549), (146.05, -18.5881531549))
        make_face()
        with BuildLine():
            ThreePointArc((146.05, -18.5881531549), (142.875, -15.4131531549), (139.7, -18.5881531549))
            Line((139.7, -18.5881531549), (146.05, -18.5881531549))
        make_face()
        with BuildLine():
            Line((190.5, -18.5881531549), (184.15, -18.5881531549))
            ThreePointArc((184.15, -18.5881531549), (187.325, -21.7631531549), (190.5, -18.5881531549))
        make_face()
        with BuildLine():
            ThreePointArc((190.5, -18.5881531549), (187.325, -15.4131531549), (184.15, -18.5881531549))
            Line((184.15, -18.5881531549), (190.5, -18.5881531549))
        make_face()
        with BuildLine():
            Line((234.95, -18.5881531549), (228.6, -18.5881531549))
            ThreePointArc((228.6, -18.5881531549), (231.775, -21.7631531549), (234.95, -18.5881531549))
        make_face()
        with BuildLine():
            ThreePointArc((234.95, -18.5881531549), (231.775, -15.4131531549), (228.6, -18.5881531549))
            Line((228.6, -18.5881531549), (234.95, -18.5881531549))
        make_face()
        with BuildLine():
            Line((279.4, -18.5881531549), (273.05, -18.5881531549))
            ThreePointArc((273.05, -18.5881531549), (276.225, -21.7631531549), (279.4, -18.5881531549))
        make_face()
        with BuildLine():
            ThreePointArc((279.4, -18.5881531549), (276.225, -15.4131531549), (273.05, -18.5881531549))
            Line((273.05, -18.5881531549), (279.4, -18.5881531549))
        make_face()
        with BuildLine():
            ThreePointArc((317.5, -18.5881531549), (320.675, -21.7631531549), (323.85, -18.5881531549))
            Line((323.85, -18.5881531549), (317.5, -18.5881531549))
        make_face()
        with BuildLine():
            Line((317.5, -18.5881531549), (323.85, -18.5881531549))
            ThreePointArc((323.85, -18.5881531549), (320.675, -15.4131531549), (317.5, -18.5881531549))
        make_face()
        with BuildLine():
            ThreePointArc((361.95, -40.8131531549), (365.125, -43.9881531549), (368.3, -40.8131531549))
            Line((368.3, -40.8131531549), (361.95, -40.8131531549))
        make_face()
        with BuildLine():
            Line((361.95, -40.8131531549), (368.3, -40.8131531549))
            ThreePointArc((368.3, -40.8131531549), (365.125, -37.6381531549), (361.95, -40.8131531549))
        make_face()
        with BuildLine():
            Line((361.95, -18.5881531549), (368.3, -18.5881531549))
            ThreePointArc((368.3, -18.5881531549), (365.125, -15.4131531549), (361.95, -18.5881531549))
        make_face()
        with BuildLine():
            ThreePointArc((361.95, -18.5881531549), (365.125, -21.7631531549), (368.3, -18.5881531549))
            Line((368.3, -18.5881531549), (361.95, -18.5881531549))
        make_face()
        with BuildLine():
            Line((406.4, -18.5881531549), (412.75, -18.5881531549))
            ThreePointArc((412.75, -18.5881531549), (409.575, -15.4131531549), (406.4, -18.5881531549))
        make_face()
        with BuildLine():
            ThreePointArc((406.4, -18.5881531549), (409.575, -21.7631531549), (412.75, -18.5881531549))
            Line((412.75, -18.5881531549), (406.4, -18.5881531549))
        make_face()
        with BuildLine():
            ThreePointArc((450.85, -18.5881531549), (454.025, -21.7631531549), (457.2, -18.5881531549))
            Line((457.2, -18.5881531549), (450.85, -18.5881531549))
        make_face()
        with BuildLine():
            Line((450.85, -18.5881531549), (457.2, -18.5881531549))
            ThreePointArc((457.2, -18.5881531549), (454.025, -15.4131531549), (450.85, -18.5881531549))
        make_face()
        with BuildLine():
            ThreePointArc((495.3, -18.5881531549), (498.475, -21.7631531549), (501.65, -18.5881531549))
            Line((501.65, -18.5881531549), (495.3, -18.5881531549))
        make_face()
        with BuildLine():
            Line((495.3, -18.5881531549), (501.65, -18.5881531549))
            ThreePointArc((501.65, -18.5881531549), (498.475, -15.4131531549), (495.3, -18.5881531549))
        make_face()
        with BuildLine():
            ThreePointArc((539.75, -18.5881531549), (542.925, -21.7631531549), (546.1, -18.5881531549))
            Line((546.1, -18.5881531549), (539.75, -18.5881531549))
        make_face()
        with BuildLine():
            Line((539.75, -18.5881531549), (546.1, -18.5881531549))
            ThreePointArc((546.1, -18.5881531549), (542.925, -15.4131531549), (539.75, -18.5881531549))
        make_face()
        with BuildLine():
            ThreePointArc((584.2, -18.5881531549), (587.375, -21.7631531549), (590.55, -18.5881531549))
            Line((590.55, -18.5881531549), (584.2, -18.5881531549))
        make_face()
        with BuildLine():
            Line((584.2, -18.5881531549), (590.55, -18.5881531549))
            ThreePointArc((590.55, -18.5881531549), (587.375, -15.4131531549), (584.2, -18.5881531549))
        make_face()
        with BuildLine():
            Line((406.4, -40.8131531549), (412.75, -40.8131531549))
            ThreePointArc((412.75, -40.8131531549), (409.575, -37.6381531549), (406.4, -40.8131531549))
        make_face()
        with BuildLine():
            ThreePointArc((406.4, -40.8131531549), (409.575, -43.9881531549), (412.75, -40.8131531549))
            Line((412.75, -40.8131531549), (406.4, -40.8131531549))
        make_face()
        with BuildLine():
            Line((450.85, -40.8131531549), (457.2, -40.8131531549))
            ThreePointArc((457.2, -40.8131531549), (454.025, -37.6381531549), (450.85, -40.8131531549))
        make_face()
        with BuildLine():
            ThreePointArc((450.85, -40.8131531549), (454.025, -43.9881531549), (457.2, -40.8131531549))
            Line((457.2, -40.8131531549), (450.85, -40.8131531549))
        make_face()
        with BuildLine():
            Line((495.3, -40.8131531549), (501.65, -40.8131531549))
            ThreePointArc((501.65, -40.8131531549), (498.475, -37.6381531549), (495.3, -40.8131531549))
        make_face()
        with BuildLine():
            ThreePointArc((495.3, -40.8131531549), (498.475, -43.9881531549), (501.65, -40.8131531549))
            Line((501.65, -40.8131531549), (495.3, -40.8131531549))
        make_face()
        with BuildLine():
            Line((539.75, -40.8131531549), (546.1, -40.8131531549))
            ThreePointArc((546.1, -40.8131531549), (542.925, -37.6381531549), (539.75, -40.8131531549))
        make_face()
        with BuildLine():
            ThreePointArc((539.75, -40.8131531549), (542.925, -43.9881531549), (546.1, -40.8131531549))
            Line((546.1, -40.8131531549), (539.75, -40.8131531549))
        make_face()
        with BuildLine():
            Line((584.2, -40.8131531549), (590.55, -40.8131531549))
            ThreePointArc((590.55, -40.8131531549), (587.375, -37.6381531549), (584.2, -40.8131531549))
        make_face()
        with BuildLine():
            ThreePointArc((584.2, -40.8131531549), (587.375, -43.9881531549), (590.55, -40.8131531549))
            Line((590.55, -40.8131531549), (584.2, -40.8131531549))
        make_face()
    extrude(amount=-F7_DEPTH)


with BuildPart() as f5_1:
    add(f5.part)

    # F7: cut by f7_tool
    add(f7_tool.part, mode=Mode.SUBTRACT)

    # F10 (on face) → F11, piece 2 (join)
    with BuildSketch(Plane(origin=(0, 0, -75.7381531549), x_dir=(1, 0, 0), z_dir=(0, 0, -1))):
        with Locations((19.05, 265.43)):
            Rectangle(F10_W, F10_H)
        with Locations((615.95, 265.43)):
            Rectangle(F10_W, F10_H)
    extrude(amount=F11_DEPTH)


with BuildPart() as f5b_1:
    add(f5b.part)

    # F7: cut by f7_tool
    add(f7_tool.part, mode=Mode.SUBTRACT)

    # F10 (on face) → F11 (join)
    with BuildSketch(Plane(origin=(0, 0, -75.7381531549), x_dir=(1, 0, 0), z_dir=(0, 0, -1))):
        with Locations((19.05, -265.7275220871)):
            Rectangle(F10_W, F10_H)
        with Locations((615.95, -265.7275220871)):
            Rectangle(F10_W, F10_H)
    extrude(amount=F11_DEPTH)


solid = Compound([f1.part, f5_1.part, f5b_1.part])
